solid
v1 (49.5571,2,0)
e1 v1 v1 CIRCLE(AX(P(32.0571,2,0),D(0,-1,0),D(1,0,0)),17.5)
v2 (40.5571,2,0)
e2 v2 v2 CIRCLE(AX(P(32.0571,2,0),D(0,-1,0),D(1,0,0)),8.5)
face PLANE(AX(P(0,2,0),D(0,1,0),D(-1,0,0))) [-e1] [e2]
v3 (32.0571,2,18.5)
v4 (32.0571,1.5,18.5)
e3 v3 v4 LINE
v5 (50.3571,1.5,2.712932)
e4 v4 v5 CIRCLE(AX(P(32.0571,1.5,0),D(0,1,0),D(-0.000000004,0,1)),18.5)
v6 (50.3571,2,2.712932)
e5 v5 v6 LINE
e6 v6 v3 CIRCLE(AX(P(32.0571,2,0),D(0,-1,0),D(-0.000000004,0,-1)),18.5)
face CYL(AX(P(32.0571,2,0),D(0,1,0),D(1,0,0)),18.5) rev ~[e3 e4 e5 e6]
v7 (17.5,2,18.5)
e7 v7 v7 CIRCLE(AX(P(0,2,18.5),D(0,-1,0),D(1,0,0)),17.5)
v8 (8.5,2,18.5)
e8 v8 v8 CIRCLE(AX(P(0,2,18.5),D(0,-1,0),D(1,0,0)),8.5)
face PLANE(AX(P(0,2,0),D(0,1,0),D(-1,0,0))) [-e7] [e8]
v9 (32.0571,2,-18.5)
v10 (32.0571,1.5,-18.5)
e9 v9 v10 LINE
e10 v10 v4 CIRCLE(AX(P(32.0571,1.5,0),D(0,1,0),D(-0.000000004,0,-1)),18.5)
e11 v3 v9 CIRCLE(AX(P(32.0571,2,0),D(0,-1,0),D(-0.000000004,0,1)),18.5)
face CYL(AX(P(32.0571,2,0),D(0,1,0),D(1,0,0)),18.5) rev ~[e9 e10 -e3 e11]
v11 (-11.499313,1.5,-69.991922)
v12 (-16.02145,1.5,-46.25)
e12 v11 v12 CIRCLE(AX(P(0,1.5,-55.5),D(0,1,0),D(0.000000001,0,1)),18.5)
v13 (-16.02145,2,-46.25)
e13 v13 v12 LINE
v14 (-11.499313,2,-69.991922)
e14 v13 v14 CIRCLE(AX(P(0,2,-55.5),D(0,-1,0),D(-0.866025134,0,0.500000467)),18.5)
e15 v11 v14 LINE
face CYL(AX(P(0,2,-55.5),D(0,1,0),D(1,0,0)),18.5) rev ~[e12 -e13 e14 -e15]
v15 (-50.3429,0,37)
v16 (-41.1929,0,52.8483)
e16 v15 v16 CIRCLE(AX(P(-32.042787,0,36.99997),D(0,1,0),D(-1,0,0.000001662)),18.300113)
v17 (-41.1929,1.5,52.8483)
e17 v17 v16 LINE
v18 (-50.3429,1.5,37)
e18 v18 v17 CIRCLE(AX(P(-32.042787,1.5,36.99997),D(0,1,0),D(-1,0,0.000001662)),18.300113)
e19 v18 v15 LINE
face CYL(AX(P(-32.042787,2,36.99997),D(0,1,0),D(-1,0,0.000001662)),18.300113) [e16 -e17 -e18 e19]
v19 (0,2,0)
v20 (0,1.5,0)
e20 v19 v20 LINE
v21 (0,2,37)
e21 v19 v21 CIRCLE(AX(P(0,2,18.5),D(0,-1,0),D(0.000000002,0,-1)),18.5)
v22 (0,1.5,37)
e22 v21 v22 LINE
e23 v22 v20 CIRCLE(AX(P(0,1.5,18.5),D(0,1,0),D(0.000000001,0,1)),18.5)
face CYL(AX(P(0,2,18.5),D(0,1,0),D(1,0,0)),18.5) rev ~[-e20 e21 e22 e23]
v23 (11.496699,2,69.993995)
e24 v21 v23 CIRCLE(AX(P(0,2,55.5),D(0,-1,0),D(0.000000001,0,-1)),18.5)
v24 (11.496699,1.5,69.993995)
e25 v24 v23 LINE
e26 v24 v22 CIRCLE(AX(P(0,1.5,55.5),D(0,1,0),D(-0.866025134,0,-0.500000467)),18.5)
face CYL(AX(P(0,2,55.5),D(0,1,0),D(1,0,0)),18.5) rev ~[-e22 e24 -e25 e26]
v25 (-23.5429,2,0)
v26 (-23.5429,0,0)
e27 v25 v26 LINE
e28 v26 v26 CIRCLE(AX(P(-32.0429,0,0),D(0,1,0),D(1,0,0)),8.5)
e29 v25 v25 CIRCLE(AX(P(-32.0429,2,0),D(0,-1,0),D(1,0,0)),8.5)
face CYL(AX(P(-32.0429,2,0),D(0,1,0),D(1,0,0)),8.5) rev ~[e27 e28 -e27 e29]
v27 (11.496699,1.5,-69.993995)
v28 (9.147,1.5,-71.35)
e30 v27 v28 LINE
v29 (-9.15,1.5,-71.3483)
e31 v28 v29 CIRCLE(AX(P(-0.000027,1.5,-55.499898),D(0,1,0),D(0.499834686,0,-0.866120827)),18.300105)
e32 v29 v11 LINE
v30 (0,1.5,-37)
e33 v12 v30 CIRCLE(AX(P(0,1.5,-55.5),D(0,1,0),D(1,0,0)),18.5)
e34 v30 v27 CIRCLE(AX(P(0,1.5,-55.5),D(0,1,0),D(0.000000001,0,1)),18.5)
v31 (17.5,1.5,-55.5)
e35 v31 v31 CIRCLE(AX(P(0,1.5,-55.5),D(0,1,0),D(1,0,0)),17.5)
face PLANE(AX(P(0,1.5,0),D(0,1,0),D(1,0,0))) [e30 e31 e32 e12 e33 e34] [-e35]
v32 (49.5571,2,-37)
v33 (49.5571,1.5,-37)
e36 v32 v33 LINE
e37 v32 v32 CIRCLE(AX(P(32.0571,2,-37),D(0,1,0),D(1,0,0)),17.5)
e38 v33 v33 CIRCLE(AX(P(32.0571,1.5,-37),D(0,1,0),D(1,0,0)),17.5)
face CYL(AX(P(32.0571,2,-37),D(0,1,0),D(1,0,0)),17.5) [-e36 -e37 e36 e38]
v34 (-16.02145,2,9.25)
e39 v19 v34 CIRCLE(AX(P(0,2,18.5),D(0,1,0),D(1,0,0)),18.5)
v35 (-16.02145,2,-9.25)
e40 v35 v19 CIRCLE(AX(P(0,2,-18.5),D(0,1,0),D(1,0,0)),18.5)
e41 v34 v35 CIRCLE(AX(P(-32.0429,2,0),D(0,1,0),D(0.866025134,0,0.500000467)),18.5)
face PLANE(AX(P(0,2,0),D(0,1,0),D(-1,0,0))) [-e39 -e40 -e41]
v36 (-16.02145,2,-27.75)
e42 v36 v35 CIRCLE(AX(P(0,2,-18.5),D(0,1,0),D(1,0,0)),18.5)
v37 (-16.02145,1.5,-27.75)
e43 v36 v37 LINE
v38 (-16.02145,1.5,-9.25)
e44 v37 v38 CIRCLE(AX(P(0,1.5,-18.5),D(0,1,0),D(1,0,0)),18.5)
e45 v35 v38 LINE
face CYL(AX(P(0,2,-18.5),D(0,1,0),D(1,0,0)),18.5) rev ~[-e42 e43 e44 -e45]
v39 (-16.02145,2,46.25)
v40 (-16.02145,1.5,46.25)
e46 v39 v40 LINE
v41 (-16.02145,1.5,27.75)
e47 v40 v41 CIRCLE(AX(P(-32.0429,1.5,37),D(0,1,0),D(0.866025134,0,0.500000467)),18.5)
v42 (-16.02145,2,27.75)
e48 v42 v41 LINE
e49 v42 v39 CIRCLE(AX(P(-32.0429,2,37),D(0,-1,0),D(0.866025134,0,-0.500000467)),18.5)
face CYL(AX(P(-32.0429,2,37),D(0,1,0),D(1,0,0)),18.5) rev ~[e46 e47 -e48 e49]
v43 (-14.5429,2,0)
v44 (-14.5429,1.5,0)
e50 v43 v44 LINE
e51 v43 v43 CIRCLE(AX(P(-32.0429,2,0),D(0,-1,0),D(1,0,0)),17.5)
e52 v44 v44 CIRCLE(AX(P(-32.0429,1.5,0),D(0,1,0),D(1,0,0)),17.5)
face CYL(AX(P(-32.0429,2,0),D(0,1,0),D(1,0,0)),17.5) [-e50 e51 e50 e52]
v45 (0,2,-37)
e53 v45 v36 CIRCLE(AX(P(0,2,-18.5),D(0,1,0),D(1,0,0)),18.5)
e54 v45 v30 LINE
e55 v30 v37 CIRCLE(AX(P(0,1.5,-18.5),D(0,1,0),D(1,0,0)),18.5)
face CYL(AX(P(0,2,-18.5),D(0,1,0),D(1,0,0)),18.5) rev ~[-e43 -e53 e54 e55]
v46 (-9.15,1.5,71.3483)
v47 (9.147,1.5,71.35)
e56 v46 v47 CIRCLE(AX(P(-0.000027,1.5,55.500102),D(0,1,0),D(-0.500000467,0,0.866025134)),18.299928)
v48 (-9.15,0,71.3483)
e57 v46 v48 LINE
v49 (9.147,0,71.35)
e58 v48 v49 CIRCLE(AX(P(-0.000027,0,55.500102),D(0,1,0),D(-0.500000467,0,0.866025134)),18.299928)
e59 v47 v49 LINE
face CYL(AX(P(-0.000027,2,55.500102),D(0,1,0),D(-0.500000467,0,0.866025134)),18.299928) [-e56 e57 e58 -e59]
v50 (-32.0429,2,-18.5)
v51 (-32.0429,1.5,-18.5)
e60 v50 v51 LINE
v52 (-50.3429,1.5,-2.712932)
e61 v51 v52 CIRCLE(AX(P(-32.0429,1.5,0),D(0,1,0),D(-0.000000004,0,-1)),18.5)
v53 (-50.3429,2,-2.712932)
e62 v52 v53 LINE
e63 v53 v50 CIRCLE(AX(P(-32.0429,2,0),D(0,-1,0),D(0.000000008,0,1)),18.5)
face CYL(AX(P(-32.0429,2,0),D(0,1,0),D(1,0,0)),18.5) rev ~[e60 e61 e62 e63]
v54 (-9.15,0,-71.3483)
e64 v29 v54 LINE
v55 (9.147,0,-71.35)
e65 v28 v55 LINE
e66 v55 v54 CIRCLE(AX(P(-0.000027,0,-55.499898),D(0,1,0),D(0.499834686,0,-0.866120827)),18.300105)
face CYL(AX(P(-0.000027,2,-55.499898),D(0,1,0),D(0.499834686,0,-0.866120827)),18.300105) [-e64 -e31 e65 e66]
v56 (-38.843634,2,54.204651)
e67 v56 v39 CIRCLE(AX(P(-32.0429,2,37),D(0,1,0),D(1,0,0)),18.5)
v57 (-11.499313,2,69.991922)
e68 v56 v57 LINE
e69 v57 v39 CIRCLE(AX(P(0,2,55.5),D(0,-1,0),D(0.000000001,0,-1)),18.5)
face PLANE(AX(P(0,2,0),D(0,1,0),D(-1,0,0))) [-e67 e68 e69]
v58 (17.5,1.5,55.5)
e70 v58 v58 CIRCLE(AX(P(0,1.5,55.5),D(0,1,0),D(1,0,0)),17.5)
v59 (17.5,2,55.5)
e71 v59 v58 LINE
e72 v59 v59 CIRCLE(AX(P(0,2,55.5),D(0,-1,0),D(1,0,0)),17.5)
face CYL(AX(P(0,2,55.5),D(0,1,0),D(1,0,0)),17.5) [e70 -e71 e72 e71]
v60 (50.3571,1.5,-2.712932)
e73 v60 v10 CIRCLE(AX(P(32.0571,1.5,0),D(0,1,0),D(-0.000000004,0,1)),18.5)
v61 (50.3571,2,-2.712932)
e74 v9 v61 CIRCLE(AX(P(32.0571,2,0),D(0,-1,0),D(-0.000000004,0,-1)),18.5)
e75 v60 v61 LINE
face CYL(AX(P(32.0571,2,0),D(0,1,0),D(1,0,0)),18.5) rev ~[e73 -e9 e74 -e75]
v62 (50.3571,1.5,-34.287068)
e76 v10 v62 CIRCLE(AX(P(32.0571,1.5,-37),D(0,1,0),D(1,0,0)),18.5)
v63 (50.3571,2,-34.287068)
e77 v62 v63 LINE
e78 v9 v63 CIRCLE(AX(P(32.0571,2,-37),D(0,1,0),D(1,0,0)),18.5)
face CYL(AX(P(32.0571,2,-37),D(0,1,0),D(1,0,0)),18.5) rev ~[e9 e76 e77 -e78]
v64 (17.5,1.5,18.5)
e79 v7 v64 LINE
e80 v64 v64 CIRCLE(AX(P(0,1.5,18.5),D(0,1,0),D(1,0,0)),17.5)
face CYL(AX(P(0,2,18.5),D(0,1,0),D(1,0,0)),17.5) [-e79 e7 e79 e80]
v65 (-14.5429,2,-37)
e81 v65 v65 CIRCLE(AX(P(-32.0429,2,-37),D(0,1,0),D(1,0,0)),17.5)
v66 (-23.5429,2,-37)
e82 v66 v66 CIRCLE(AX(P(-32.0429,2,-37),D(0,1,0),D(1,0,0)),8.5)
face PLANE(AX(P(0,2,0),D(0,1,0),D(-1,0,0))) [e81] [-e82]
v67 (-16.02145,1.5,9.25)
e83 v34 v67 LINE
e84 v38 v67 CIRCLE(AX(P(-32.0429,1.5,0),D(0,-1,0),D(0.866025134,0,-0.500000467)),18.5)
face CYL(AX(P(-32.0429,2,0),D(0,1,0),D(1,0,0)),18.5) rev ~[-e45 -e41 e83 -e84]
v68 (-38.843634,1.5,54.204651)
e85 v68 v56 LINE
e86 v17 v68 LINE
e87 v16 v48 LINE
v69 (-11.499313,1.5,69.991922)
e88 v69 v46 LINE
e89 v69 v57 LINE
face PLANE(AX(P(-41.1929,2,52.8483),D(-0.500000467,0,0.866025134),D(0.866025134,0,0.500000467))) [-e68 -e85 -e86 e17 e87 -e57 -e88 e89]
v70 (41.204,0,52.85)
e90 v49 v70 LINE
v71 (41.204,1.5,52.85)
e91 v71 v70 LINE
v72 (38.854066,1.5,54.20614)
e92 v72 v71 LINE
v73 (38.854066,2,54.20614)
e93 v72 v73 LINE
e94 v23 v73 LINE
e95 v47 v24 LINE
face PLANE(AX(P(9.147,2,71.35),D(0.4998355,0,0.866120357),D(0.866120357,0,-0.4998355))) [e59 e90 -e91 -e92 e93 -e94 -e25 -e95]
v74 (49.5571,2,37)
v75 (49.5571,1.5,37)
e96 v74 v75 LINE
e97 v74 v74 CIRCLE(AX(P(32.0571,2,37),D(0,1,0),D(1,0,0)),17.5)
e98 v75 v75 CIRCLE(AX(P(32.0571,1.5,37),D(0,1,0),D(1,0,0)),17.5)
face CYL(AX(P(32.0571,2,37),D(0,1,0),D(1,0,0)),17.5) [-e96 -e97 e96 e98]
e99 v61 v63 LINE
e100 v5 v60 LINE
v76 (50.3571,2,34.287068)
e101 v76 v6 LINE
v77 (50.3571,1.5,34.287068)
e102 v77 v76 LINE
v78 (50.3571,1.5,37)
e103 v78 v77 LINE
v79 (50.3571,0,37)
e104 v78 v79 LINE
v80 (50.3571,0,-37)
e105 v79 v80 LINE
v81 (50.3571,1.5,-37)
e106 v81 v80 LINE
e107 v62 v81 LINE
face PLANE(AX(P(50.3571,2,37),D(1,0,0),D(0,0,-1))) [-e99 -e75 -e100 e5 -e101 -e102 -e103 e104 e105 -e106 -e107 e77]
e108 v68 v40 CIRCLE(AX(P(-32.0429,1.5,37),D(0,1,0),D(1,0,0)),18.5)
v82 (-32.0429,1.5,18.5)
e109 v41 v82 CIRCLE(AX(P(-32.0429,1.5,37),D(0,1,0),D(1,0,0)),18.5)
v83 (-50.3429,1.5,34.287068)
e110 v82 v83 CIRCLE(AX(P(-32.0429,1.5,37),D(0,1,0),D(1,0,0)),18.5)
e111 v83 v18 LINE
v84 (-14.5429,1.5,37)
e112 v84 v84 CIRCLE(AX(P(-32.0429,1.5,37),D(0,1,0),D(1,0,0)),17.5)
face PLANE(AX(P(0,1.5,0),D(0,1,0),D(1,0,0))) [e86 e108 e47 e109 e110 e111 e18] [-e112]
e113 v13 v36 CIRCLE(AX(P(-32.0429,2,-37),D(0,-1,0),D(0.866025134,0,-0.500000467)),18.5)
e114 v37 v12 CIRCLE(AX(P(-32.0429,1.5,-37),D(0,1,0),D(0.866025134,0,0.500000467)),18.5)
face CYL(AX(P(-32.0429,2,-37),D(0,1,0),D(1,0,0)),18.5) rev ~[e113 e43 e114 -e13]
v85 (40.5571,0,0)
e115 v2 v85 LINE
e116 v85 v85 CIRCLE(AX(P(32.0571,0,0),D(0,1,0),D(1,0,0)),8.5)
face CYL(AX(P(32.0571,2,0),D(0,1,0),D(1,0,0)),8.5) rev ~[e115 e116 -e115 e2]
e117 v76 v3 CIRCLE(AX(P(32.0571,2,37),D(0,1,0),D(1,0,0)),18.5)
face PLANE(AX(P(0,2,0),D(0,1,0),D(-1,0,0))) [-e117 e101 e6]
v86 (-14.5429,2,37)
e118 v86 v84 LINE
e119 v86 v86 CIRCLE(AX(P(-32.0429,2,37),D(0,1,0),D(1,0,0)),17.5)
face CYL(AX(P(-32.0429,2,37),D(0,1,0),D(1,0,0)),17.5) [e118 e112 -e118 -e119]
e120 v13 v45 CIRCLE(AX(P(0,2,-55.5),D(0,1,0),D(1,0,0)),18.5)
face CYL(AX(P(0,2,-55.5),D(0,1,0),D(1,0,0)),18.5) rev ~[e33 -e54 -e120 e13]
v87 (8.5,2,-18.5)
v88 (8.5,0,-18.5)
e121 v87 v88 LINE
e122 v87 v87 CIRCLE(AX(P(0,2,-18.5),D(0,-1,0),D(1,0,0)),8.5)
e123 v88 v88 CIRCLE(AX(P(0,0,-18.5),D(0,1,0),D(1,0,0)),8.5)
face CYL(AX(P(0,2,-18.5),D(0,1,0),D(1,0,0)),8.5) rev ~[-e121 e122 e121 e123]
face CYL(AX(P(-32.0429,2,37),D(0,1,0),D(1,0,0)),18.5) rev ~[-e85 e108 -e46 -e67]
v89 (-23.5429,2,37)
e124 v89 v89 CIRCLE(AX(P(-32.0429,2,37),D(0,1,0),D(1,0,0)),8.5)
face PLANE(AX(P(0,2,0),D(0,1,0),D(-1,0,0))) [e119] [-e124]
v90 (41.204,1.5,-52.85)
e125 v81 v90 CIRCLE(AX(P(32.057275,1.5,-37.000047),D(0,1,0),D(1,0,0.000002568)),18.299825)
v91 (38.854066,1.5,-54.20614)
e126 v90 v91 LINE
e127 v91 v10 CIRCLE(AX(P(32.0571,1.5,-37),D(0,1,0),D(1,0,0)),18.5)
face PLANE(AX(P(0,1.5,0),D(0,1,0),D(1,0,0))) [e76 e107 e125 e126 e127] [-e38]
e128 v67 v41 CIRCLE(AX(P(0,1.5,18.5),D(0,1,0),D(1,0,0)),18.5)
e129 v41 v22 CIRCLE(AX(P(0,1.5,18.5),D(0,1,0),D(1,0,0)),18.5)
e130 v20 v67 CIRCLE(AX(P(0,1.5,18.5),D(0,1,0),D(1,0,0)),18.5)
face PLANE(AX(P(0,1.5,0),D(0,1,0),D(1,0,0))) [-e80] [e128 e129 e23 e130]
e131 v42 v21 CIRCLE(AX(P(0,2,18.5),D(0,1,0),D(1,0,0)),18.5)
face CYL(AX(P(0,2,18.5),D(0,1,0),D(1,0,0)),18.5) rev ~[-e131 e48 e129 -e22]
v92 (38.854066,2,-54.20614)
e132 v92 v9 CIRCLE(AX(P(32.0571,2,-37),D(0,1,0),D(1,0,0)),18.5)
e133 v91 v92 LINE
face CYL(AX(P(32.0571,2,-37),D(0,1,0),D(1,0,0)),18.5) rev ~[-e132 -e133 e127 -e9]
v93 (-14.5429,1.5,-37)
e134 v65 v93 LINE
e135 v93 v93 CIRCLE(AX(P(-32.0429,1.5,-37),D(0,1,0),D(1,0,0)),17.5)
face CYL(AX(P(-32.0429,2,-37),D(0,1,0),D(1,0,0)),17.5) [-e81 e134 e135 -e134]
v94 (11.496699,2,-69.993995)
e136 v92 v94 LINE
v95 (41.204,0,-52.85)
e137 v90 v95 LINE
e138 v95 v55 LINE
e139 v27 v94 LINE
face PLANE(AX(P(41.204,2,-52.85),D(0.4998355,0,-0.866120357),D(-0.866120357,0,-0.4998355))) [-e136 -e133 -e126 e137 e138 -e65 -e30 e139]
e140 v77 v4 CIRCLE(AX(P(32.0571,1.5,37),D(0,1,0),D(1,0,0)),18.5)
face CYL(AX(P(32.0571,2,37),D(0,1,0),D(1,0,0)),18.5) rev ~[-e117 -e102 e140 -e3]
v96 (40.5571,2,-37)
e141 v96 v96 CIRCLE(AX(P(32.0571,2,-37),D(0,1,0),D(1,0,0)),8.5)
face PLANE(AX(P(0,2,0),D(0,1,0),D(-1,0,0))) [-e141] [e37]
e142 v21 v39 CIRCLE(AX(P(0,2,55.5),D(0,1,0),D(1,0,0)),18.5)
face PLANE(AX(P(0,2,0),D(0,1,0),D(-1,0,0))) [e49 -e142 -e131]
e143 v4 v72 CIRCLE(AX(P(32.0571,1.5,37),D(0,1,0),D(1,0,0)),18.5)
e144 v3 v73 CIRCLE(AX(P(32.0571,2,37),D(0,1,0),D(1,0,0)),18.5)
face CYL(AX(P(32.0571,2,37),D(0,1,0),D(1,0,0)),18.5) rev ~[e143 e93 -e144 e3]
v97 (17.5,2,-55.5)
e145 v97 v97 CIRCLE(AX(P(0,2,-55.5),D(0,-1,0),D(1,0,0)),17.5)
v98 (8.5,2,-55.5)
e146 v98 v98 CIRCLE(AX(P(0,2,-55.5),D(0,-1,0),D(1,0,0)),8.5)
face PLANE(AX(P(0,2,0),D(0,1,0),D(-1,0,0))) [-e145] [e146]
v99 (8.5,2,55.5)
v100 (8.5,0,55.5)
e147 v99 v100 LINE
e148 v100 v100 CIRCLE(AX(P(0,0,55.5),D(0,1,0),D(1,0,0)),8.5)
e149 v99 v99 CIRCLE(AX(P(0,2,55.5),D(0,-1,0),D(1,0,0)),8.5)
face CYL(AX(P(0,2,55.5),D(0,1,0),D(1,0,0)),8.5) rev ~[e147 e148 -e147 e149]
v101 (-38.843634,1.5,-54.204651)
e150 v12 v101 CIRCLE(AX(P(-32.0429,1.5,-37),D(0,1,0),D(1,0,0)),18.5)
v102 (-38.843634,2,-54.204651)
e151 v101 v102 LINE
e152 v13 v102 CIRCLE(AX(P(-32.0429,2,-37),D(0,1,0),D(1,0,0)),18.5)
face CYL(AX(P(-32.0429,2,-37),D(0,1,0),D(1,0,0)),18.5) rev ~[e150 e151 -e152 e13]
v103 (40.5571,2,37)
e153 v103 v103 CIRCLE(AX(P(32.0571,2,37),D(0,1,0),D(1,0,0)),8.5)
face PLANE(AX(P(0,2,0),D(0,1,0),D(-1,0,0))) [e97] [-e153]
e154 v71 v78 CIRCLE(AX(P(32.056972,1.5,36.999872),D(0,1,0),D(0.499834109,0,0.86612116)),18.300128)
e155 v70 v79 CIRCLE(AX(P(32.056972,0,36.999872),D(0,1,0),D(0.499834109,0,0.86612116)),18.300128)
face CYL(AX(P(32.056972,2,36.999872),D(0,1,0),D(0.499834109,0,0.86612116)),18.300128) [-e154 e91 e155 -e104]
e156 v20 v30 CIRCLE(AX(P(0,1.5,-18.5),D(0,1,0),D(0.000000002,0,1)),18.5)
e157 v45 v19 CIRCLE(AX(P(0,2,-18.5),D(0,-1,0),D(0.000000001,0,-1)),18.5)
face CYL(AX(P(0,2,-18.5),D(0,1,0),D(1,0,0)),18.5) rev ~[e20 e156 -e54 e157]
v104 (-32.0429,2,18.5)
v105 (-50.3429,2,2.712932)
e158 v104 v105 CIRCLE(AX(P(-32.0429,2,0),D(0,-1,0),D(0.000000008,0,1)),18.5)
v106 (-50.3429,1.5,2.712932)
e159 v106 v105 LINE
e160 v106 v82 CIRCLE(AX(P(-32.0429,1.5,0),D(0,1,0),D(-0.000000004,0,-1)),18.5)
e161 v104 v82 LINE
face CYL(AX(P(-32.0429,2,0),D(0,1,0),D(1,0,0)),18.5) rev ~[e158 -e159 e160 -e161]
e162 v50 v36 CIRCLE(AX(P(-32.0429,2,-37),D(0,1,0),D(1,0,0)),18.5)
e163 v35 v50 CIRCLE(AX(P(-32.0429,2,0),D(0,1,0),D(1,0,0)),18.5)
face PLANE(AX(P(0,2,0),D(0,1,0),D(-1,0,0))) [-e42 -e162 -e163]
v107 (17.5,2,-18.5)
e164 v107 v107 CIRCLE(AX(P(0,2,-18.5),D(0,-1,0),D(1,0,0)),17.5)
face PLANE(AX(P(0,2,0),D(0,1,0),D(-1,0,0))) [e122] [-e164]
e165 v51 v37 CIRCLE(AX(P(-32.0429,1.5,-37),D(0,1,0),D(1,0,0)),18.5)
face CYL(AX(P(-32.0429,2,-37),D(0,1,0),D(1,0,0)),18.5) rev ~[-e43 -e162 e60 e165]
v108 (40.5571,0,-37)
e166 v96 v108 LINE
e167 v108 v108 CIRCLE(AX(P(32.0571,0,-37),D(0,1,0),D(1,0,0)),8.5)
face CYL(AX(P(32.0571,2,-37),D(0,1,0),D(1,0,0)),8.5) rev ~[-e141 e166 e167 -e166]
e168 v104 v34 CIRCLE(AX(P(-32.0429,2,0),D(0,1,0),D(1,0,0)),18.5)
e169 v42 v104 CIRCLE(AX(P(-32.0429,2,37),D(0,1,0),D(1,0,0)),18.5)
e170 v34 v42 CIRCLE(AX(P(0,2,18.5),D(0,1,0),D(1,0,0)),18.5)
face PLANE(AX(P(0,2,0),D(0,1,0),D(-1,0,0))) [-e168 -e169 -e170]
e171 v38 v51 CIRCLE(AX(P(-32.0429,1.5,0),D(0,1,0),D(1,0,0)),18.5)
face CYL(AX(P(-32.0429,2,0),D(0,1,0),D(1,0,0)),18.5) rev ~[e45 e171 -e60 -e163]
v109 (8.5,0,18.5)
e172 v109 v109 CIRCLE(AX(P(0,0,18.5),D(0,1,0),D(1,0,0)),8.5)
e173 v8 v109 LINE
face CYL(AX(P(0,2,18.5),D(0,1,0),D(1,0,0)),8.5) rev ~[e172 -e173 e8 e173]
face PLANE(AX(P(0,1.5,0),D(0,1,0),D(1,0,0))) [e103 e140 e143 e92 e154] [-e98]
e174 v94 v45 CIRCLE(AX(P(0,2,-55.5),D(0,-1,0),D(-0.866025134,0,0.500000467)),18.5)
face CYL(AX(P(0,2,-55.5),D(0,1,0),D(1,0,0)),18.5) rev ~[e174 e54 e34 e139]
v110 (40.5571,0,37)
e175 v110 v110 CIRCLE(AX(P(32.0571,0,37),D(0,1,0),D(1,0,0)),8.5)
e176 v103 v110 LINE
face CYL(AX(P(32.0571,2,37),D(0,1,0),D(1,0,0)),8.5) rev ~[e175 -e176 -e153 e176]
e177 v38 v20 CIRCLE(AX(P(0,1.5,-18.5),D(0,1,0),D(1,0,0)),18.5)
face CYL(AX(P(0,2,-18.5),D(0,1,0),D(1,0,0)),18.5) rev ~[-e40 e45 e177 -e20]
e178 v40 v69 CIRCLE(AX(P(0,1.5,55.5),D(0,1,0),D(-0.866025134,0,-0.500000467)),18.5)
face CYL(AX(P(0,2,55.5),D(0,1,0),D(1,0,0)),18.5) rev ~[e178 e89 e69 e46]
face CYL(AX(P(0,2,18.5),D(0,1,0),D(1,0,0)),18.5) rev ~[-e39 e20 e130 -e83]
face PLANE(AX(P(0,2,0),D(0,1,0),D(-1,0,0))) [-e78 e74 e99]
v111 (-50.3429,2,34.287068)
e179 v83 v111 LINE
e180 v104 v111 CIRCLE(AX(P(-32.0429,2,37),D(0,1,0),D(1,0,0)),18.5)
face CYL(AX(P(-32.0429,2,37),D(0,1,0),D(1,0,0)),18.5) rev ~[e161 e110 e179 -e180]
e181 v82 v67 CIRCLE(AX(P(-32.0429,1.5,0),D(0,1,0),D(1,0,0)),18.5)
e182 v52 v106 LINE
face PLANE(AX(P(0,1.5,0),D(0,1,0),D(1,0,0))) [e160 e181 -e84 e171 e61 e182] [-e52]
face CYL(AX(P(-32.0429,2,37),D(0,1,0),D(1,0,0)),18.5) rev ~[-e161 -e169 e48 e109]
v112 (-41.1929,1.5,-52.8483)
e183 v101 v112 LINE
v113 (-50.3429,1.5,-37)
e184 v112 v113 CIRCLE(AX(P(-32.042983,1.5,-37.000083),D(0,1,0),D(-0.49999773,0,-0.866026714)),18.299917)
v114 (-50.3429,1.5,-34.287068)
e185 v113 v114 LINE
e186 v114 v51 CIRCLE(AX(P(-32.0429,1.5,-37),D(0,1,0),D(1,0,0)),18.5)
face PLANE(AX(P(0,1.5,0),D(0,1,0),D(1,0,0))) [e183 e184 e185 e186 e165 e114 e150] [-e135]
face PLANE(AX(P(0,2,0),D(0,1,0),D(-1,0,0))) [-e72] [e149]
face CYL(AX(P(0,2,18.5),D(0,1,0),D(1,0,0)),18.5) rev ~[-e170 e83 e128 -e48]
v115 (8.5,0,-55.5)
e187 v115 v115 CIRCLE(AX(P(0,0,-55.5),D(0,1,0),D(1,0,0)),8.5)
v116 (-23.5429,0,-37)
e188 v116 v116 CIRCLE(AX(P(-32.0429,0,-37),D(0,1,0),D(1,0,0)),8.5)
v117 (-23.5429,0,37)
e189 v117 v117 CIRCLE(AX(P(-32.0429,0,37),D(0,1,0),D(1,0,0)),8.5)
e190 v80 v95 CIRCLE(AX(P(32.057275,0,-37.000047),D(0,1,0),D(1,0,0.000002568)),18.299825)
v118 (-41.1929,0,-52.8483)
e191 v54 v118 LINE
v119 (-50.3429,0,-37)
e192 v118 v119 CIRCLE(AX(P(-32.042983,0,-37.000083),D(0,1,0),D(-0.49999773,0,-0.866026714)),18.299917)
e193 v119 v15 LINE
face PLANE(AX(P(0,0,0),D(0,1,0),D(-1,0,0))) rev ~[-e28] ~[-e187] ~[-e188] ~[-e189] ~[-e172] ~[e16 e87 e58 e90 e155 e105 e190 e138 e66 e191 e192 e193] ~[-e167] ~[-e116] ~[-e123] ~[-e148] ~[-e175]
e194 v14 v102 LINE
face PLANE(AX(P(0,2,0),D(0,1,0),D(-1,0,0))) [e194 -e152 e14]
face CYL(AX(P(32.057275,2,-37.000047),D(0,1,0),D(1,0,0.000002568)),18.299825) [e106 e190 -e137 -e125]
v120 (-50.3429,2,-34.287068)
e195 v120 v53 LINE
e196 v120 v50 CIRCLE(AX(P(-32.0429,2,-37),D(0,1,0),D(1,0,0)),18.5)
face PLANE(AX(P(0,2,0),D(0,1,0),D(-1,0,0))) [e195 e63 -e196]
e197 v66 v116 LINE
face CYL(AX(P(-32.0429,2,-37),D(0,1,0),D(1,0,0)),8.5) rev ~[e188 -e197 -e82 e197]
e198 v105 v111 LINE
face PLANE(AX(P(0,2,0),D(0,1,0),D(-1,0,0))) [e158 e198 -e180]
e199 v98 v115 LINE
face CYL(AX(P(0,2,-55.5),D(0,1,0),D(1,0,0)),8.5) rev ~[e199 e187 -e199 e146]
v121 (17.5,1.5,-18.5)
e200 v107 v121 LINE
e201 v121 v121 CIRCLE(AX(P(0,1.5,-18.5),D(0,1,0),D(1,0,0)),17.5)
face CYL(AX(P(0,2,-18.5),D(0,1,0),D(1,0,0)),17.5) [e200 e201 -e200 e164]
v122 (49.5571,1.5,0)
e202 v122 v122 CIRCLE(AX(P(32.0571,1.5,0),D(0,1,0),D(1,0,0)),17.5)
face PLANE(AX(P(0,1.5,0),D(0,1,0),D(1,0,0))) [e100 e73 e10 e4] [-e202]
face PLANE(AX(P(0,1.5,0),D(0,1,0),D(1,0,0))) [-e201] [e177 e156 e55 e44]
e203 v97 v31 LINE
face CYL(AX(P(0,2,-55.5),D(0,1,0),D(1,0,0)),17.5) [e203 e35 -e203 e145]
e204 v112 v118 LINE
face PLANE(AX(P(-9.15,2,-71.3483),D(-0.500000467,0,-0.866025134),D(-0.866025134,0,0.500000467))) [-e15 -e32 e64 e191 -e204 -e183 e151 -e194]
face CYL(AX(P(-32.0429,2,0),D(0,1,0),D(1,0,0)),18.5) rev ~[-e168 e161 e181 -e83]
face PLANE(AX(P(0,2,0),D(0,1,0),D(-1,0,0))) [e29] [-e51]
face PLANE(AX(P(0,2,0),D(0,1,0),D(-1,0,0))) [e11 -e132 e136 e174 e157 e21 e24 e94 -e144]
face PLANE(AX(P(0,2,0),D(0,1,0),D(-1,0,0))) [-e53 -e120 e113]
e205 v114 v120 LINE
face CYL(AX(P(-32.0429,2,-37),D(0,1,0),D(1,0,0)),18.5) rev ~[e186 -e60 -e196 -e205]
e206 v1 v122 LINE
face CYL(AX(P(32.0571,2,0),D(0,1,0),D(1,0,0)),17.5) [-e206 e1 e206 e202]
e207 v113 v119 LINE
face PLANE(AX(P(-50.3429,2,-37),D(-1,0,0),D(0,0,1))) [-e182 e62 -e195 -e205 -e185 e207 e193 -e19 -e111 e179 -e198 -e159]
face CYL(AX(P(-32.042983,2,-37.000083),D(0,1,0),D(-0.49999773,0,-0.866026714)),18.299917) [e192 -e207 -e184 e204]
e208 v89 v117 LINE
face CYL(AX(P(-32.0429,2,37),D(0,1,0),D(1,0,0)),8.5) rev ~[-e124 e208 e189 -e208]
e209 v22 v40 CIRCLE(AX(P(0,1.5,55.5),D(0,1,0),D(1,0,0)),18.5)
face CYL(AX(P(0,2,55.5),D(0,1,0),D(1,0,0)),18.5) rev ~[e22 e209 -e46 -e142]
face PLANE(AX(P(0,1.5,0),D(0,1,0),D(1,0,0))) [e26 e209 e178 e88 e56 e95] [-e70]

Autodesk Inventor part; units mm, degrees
ref_plane "YZ Plane" through (0, 0, 0) normal (1, 0, 0) x (0, 1, 0)
ref_plane "XZ Plane" through (0, 0, 0) normal (0, 1, 0) x (-1, 0, 0)
ref_plane "XY Plane" through (0, 0, 0) normal (0, 0, 1) x (1, 0, 0)
sketch "Sketch1" plane through (0, 0, 0) normal (0, 1, 0) x (-1, 0, 0)
  line L0 (100, -100) -> (-100, -100)
  line L1 (-100, -100) -> (-100, 100)
  line L2 (-100, 100) -> (100, 100)
  line L3 (100, 100) -> (100, -100)
  line L4 (100, -100) -> (-100, 100)
  point P0 (0, 0)
  point P1 (0, 0)
  dimension "d0" = 200
  dimension "d1" = 200
extrude "Extrusion1" add sketch "Sketch1" along normal blind 2
sketch "Sketch2" plane through (0, 2, 0) normal (0, 1, 0) x (1, 0, 0)
  line L0 (100, 100) -> (-100, 100) projected
  line L1 (0, 100) -> (0, -100)
  line L2 (-100, -100) -> (100, -100) projected
  line L3 (100, -100) -> (100, 100) projected
  line L4 (100, 0) -> (-100, 0)
  line L5 (-100, 100) -> (-100, -100) projected
  circle A0 centre (0, -55.5) radius 18.5
  circle A1 centre (0, -55.5) radius 8.5
  circle A2 centre (0, -55.5) radius 17.5
  circle A3 centre (0, -55.5) radius 7.5
  circle A4 centre (0, -18.5) radius 7.5
  circle A5 centre (0, -18.5) radius 8.5
  circle A6 centre (0, -18.5) radius 17.5
  circle A7 centre (0, -18.5) radius 18.5
  circle A8 centre (0, 18.5) radius 7.5
  circle A9 centre (0, 18.5) radius 8.5
  circle A10 centre (0, 18.5) radius 17.5
  circle A11 centre (0, 18.5) radius 18.5
  circle A12 centre (0, 55.5) radius 7.5
  circle A13 centre (0, 55.5) radius 8.5
  circle A14 centre (0, 55.5) radius 17.5
  circle A15 centre (0, 55.5) radius 18.5
  circle A16 centre (-32.0429, -37) radius 7.5
  circle A17 centre (-32.0429, -37) radius 8.5
  circle A18 centre (-32.0429, -37) radius 17.5
  circle A19 centre (-32.0429, -37) radius 18.5
  circle A20 centre (-32.0429, 0) radius 7.5
  circle A21 centre (-32.0429, 0) radius 8.5
  circle A22 centre (-32.0429, 0) radius 17.5
  circle A23 centre (-32.0429, 0) radius 18.5
  circle A24 centre (-32.0429, 37) radius 7.5
  circle A25 centre (-32.0429, 37) radius 8.5
  circle A26 centre (-32.0429, 37) radius 17.5
  circle A27 centre (-32.0429, 37) radius 18.5
  circle A28 centre (32.0571, -37) radius 7.5
  circle A29 centre (32.0571, -37) radius 8.5
  circle A30 centre (32.0571, -37) radius 17.5
  circle A31 centre (32.0571, -37) radius 18.5
  circle A32 centre (32.0571, 0) radius 7.5
  circle A33 centre (32.0571, 0) radius 8.5
  circle A34 centre (32.0571, 0) radius 17.5
  circle A35 centre (32.0571, 0) radius 18.5
  circle A36 centre (32.0571, 37) radius 7.5
  circle A37 centre (32.0571, 37) radius 8.5
  circle A38 centre (32.0571, 37) radius 17.5
  circle A39 centre (32.0571, 37) radius 18.5
  point P0 (0, 0)
  point P1 (-32.0429, 18.5)
  point P2 (-16.0215, 27.75)
  point P3 (-16.0215, 46.25)
  point P4 (-16.0215, 9.25)
  point P5 (-32.0429, -18.5)
  point P6 (-16.0215, -9.25)
  point P7 (0, 37)
  point P8 (0, 0)
  point P9 (-16.0215, -27.75)
  point P10 (32.0571, 18.5)
  point P11 (32.0571, -18.5)
  dimension "d4" = 37
  dimension "d5" = 17
  dimension "d18" = 35
  dimension "d19" = 15
  dimension "d42" = 37
  dimension "d47" = 111
  dimension "d48" = 35
  dimension "d49" = 37
  dimension "d50" = 15
  dimension "d51" = 17
  dimension "d55" = 37
  dimension "d58" = 64.1
extrude "Extrusion2" cut sketch "Sketch2" against normal blind 0.5 contours A39 | A31 | A15 L1 A14 | L1 A14 A15 | A35 L4 A34 | L4 A34 A35 | A27 | A23 L4 A22 | L4 A22 A23 | A13 L1 A12 | L1 A12 A13 | A11 L1 A10 | L1 A10 A11 | A0 L1 A2 | L1 A2 A0 | A33 L4 A32 | L4 A32 A33 | A19 | A7 L1 A6 | L1 A6 A7 | A21 L4 A20 | L4 A20 A21 | A9 L1 A8 | L1 A8 A9 | A1 L1 A3 | L1 A3 A1 | A5 L1 A4 | L1 A4 A5 | A17 | A25 | A29 | A37
sketch "Sketch4" plane through (0, 2, 0) normal (0, 1, 0) x (1, 0, 0)
  arc A0 (-16.0215, 46.25) -> (-32.0429, 18.5) centre (-32.0429, 37) ccw projected
  line L0 (-41.2929, 53.0215) -> (-9.25, 71.5215)
  arc A1 (0, 37) -> (-16.0215, 46.25) centre (0, 55.5) ccw projected
  line L1 (9.2469, 71.5232) -> (41.304, 53.0232)
  circle A2 centre (32.0571, 37) radius 18.5 projected
  line L2 (50.5571, 37) -> (50.5571, -37)
  circle A3 centre (32.0571, -37) radius 18.5 projected
  line L3 (41.304, -53.0232) -> (9.2469, -71.5232)
  arc A4 (-16.0215, -46.25) -> (0, -37) centre (0, -55.5) ccw projected
  line L4 (-9.25, -71.5215) -> (-41.2929, -53.0215)
  line L5 (-50.5429, 37) -> (-50.5429, -37)
  arc A5 (-32.0429, -18.5) -> (-16.0215, -46.25) centre (-32.0429, -37) ccw projected
  line L6 (-100, 100) -> (-100, -100) projected
  line L7 (100, 100) -> (-100, 100) projected
  line L8 (100, -100) -> (100, 100) projected
  line L9 (-100, -100) -> (100, -100) projected
  point P0 (0, 0)
  point P1 (32.0571, 18.5)
  point P2 (32.0571, -18.5)
extrude "Extrusion4" cut sketch "Sketch4" against normal through all
sketch "Sketch5" plane through (0, 2, -18.5) normal (0, 1, 0) x (1, 0, 0)
  circle A0 centre (-32.0429, 18.5) radius 8.5 projected
  circle A1 centre (0, 37) radius 8.5 projected
  circle A2 centre (32.0571, 18.5) radius 8.5 projected
  circle A3 centre (0, 0) radius 8.5 projected
  circle A4 centre (32.0571, -18.5) radius 8.5 projected
  circle A5 centre (32.0571, -55.5) radius 8.5 projected
  circle A6 centre (0, -37) radius 8.5 projected
  circle A7 centre (0, -74) radius 8.5 projected
  circle A8 centre (-32.0429, -55.5) radius 8.5 projected
  circle A9 centre (-32.0429, -18.5) radius 8.5 projected
  arc A10 (41.304, -71.5232) -> (50.5571, -55.5) centre (32.0571, -55.5) ccw projected
  line L0 (41.304, -71.5232) -> (9.2469, -90.0232) projected
  arc A11 (-9.25, -90.0215) -> (9.2469, -90.0232) centre (0, -74) ccw projected
  line L1 (-9.25, -90.0215) -> (-41.2929, -71.5215) projected
  arc A12 (-50.5429, -55.5) -> (-41.2929, -71.5215) centre (-32.0429, -55.5) ccw projected
  line L2 (-50.5429, -55.5) -> (-50.5429, 18.5) projected
  arc A13 (-41.2929, 34.5215) -> (-50.5429, 18.5) centre (-32.0429, 18.5) ccw projected
  line L3 (-41.2929, 34.5215) -> (-9.25, 53.0215) projected
  arc A14 (9.2469, 53.0232) -> (-9.25, 53.0215) centre (0, 37) ccw projected
  line L4 (9.2469, 53.0232) -> (41.304, 34.5232) projected
  arc A15 (50.5571, 18.5) -> (41.304, 34.5232) centre (32.0571, 18.5) ccw projected
  line L5 (50.5571, 18.5) -> (50.5571, -55.5) projected
  line L6 (41.204, 34.35) -> (9.147, 52.85)
  arc A16 (9.147, 52.85) -> (-9.15, 52.8483) centre (0, 37) ccw
  line L7 (-9.15, 52.8483) -> (-41.1929, 34.3483)
  arc A17 (-41.1929, 34.3483) -> (-50.3429, 18.5) centre (-32.0429, 18.5) ccw
  line L8 (-50.3429, 18.5) -> (-50.3429, -55.5)
  arc A18 (-50.3429, -55.5) -> (-41.1929, -71.3483) centre (-32.0429, -55.5) ccw
  line L9 (-41.1929, -71.3483) -> (-9.15, -89.8483)
  arc A19 (-9.15, -89.8483) -> (9.147, -89.85) centre (0, -74) ccw
  line L10 (9.147, -89.85) -> (41.204, -71.35)
  arc A20 (41.204, -71.35) -> (50.3571, -55.5) centre (32.0571, -55.5) ccw
  line L11 (50.3571, -55.5) -> (50.3571, 18.5)
  arc A21 (50.3571, 18.5) -> (41.204, 34.35) centre (32.0571, 18.5) ccw
  point P0 (0, -18.5)
  dimension "d65" = 0.2
extrude "Extrusion5" cut sketch "Sketch5" against normal through all
properties part number "Separador_10_amostras_v2"
